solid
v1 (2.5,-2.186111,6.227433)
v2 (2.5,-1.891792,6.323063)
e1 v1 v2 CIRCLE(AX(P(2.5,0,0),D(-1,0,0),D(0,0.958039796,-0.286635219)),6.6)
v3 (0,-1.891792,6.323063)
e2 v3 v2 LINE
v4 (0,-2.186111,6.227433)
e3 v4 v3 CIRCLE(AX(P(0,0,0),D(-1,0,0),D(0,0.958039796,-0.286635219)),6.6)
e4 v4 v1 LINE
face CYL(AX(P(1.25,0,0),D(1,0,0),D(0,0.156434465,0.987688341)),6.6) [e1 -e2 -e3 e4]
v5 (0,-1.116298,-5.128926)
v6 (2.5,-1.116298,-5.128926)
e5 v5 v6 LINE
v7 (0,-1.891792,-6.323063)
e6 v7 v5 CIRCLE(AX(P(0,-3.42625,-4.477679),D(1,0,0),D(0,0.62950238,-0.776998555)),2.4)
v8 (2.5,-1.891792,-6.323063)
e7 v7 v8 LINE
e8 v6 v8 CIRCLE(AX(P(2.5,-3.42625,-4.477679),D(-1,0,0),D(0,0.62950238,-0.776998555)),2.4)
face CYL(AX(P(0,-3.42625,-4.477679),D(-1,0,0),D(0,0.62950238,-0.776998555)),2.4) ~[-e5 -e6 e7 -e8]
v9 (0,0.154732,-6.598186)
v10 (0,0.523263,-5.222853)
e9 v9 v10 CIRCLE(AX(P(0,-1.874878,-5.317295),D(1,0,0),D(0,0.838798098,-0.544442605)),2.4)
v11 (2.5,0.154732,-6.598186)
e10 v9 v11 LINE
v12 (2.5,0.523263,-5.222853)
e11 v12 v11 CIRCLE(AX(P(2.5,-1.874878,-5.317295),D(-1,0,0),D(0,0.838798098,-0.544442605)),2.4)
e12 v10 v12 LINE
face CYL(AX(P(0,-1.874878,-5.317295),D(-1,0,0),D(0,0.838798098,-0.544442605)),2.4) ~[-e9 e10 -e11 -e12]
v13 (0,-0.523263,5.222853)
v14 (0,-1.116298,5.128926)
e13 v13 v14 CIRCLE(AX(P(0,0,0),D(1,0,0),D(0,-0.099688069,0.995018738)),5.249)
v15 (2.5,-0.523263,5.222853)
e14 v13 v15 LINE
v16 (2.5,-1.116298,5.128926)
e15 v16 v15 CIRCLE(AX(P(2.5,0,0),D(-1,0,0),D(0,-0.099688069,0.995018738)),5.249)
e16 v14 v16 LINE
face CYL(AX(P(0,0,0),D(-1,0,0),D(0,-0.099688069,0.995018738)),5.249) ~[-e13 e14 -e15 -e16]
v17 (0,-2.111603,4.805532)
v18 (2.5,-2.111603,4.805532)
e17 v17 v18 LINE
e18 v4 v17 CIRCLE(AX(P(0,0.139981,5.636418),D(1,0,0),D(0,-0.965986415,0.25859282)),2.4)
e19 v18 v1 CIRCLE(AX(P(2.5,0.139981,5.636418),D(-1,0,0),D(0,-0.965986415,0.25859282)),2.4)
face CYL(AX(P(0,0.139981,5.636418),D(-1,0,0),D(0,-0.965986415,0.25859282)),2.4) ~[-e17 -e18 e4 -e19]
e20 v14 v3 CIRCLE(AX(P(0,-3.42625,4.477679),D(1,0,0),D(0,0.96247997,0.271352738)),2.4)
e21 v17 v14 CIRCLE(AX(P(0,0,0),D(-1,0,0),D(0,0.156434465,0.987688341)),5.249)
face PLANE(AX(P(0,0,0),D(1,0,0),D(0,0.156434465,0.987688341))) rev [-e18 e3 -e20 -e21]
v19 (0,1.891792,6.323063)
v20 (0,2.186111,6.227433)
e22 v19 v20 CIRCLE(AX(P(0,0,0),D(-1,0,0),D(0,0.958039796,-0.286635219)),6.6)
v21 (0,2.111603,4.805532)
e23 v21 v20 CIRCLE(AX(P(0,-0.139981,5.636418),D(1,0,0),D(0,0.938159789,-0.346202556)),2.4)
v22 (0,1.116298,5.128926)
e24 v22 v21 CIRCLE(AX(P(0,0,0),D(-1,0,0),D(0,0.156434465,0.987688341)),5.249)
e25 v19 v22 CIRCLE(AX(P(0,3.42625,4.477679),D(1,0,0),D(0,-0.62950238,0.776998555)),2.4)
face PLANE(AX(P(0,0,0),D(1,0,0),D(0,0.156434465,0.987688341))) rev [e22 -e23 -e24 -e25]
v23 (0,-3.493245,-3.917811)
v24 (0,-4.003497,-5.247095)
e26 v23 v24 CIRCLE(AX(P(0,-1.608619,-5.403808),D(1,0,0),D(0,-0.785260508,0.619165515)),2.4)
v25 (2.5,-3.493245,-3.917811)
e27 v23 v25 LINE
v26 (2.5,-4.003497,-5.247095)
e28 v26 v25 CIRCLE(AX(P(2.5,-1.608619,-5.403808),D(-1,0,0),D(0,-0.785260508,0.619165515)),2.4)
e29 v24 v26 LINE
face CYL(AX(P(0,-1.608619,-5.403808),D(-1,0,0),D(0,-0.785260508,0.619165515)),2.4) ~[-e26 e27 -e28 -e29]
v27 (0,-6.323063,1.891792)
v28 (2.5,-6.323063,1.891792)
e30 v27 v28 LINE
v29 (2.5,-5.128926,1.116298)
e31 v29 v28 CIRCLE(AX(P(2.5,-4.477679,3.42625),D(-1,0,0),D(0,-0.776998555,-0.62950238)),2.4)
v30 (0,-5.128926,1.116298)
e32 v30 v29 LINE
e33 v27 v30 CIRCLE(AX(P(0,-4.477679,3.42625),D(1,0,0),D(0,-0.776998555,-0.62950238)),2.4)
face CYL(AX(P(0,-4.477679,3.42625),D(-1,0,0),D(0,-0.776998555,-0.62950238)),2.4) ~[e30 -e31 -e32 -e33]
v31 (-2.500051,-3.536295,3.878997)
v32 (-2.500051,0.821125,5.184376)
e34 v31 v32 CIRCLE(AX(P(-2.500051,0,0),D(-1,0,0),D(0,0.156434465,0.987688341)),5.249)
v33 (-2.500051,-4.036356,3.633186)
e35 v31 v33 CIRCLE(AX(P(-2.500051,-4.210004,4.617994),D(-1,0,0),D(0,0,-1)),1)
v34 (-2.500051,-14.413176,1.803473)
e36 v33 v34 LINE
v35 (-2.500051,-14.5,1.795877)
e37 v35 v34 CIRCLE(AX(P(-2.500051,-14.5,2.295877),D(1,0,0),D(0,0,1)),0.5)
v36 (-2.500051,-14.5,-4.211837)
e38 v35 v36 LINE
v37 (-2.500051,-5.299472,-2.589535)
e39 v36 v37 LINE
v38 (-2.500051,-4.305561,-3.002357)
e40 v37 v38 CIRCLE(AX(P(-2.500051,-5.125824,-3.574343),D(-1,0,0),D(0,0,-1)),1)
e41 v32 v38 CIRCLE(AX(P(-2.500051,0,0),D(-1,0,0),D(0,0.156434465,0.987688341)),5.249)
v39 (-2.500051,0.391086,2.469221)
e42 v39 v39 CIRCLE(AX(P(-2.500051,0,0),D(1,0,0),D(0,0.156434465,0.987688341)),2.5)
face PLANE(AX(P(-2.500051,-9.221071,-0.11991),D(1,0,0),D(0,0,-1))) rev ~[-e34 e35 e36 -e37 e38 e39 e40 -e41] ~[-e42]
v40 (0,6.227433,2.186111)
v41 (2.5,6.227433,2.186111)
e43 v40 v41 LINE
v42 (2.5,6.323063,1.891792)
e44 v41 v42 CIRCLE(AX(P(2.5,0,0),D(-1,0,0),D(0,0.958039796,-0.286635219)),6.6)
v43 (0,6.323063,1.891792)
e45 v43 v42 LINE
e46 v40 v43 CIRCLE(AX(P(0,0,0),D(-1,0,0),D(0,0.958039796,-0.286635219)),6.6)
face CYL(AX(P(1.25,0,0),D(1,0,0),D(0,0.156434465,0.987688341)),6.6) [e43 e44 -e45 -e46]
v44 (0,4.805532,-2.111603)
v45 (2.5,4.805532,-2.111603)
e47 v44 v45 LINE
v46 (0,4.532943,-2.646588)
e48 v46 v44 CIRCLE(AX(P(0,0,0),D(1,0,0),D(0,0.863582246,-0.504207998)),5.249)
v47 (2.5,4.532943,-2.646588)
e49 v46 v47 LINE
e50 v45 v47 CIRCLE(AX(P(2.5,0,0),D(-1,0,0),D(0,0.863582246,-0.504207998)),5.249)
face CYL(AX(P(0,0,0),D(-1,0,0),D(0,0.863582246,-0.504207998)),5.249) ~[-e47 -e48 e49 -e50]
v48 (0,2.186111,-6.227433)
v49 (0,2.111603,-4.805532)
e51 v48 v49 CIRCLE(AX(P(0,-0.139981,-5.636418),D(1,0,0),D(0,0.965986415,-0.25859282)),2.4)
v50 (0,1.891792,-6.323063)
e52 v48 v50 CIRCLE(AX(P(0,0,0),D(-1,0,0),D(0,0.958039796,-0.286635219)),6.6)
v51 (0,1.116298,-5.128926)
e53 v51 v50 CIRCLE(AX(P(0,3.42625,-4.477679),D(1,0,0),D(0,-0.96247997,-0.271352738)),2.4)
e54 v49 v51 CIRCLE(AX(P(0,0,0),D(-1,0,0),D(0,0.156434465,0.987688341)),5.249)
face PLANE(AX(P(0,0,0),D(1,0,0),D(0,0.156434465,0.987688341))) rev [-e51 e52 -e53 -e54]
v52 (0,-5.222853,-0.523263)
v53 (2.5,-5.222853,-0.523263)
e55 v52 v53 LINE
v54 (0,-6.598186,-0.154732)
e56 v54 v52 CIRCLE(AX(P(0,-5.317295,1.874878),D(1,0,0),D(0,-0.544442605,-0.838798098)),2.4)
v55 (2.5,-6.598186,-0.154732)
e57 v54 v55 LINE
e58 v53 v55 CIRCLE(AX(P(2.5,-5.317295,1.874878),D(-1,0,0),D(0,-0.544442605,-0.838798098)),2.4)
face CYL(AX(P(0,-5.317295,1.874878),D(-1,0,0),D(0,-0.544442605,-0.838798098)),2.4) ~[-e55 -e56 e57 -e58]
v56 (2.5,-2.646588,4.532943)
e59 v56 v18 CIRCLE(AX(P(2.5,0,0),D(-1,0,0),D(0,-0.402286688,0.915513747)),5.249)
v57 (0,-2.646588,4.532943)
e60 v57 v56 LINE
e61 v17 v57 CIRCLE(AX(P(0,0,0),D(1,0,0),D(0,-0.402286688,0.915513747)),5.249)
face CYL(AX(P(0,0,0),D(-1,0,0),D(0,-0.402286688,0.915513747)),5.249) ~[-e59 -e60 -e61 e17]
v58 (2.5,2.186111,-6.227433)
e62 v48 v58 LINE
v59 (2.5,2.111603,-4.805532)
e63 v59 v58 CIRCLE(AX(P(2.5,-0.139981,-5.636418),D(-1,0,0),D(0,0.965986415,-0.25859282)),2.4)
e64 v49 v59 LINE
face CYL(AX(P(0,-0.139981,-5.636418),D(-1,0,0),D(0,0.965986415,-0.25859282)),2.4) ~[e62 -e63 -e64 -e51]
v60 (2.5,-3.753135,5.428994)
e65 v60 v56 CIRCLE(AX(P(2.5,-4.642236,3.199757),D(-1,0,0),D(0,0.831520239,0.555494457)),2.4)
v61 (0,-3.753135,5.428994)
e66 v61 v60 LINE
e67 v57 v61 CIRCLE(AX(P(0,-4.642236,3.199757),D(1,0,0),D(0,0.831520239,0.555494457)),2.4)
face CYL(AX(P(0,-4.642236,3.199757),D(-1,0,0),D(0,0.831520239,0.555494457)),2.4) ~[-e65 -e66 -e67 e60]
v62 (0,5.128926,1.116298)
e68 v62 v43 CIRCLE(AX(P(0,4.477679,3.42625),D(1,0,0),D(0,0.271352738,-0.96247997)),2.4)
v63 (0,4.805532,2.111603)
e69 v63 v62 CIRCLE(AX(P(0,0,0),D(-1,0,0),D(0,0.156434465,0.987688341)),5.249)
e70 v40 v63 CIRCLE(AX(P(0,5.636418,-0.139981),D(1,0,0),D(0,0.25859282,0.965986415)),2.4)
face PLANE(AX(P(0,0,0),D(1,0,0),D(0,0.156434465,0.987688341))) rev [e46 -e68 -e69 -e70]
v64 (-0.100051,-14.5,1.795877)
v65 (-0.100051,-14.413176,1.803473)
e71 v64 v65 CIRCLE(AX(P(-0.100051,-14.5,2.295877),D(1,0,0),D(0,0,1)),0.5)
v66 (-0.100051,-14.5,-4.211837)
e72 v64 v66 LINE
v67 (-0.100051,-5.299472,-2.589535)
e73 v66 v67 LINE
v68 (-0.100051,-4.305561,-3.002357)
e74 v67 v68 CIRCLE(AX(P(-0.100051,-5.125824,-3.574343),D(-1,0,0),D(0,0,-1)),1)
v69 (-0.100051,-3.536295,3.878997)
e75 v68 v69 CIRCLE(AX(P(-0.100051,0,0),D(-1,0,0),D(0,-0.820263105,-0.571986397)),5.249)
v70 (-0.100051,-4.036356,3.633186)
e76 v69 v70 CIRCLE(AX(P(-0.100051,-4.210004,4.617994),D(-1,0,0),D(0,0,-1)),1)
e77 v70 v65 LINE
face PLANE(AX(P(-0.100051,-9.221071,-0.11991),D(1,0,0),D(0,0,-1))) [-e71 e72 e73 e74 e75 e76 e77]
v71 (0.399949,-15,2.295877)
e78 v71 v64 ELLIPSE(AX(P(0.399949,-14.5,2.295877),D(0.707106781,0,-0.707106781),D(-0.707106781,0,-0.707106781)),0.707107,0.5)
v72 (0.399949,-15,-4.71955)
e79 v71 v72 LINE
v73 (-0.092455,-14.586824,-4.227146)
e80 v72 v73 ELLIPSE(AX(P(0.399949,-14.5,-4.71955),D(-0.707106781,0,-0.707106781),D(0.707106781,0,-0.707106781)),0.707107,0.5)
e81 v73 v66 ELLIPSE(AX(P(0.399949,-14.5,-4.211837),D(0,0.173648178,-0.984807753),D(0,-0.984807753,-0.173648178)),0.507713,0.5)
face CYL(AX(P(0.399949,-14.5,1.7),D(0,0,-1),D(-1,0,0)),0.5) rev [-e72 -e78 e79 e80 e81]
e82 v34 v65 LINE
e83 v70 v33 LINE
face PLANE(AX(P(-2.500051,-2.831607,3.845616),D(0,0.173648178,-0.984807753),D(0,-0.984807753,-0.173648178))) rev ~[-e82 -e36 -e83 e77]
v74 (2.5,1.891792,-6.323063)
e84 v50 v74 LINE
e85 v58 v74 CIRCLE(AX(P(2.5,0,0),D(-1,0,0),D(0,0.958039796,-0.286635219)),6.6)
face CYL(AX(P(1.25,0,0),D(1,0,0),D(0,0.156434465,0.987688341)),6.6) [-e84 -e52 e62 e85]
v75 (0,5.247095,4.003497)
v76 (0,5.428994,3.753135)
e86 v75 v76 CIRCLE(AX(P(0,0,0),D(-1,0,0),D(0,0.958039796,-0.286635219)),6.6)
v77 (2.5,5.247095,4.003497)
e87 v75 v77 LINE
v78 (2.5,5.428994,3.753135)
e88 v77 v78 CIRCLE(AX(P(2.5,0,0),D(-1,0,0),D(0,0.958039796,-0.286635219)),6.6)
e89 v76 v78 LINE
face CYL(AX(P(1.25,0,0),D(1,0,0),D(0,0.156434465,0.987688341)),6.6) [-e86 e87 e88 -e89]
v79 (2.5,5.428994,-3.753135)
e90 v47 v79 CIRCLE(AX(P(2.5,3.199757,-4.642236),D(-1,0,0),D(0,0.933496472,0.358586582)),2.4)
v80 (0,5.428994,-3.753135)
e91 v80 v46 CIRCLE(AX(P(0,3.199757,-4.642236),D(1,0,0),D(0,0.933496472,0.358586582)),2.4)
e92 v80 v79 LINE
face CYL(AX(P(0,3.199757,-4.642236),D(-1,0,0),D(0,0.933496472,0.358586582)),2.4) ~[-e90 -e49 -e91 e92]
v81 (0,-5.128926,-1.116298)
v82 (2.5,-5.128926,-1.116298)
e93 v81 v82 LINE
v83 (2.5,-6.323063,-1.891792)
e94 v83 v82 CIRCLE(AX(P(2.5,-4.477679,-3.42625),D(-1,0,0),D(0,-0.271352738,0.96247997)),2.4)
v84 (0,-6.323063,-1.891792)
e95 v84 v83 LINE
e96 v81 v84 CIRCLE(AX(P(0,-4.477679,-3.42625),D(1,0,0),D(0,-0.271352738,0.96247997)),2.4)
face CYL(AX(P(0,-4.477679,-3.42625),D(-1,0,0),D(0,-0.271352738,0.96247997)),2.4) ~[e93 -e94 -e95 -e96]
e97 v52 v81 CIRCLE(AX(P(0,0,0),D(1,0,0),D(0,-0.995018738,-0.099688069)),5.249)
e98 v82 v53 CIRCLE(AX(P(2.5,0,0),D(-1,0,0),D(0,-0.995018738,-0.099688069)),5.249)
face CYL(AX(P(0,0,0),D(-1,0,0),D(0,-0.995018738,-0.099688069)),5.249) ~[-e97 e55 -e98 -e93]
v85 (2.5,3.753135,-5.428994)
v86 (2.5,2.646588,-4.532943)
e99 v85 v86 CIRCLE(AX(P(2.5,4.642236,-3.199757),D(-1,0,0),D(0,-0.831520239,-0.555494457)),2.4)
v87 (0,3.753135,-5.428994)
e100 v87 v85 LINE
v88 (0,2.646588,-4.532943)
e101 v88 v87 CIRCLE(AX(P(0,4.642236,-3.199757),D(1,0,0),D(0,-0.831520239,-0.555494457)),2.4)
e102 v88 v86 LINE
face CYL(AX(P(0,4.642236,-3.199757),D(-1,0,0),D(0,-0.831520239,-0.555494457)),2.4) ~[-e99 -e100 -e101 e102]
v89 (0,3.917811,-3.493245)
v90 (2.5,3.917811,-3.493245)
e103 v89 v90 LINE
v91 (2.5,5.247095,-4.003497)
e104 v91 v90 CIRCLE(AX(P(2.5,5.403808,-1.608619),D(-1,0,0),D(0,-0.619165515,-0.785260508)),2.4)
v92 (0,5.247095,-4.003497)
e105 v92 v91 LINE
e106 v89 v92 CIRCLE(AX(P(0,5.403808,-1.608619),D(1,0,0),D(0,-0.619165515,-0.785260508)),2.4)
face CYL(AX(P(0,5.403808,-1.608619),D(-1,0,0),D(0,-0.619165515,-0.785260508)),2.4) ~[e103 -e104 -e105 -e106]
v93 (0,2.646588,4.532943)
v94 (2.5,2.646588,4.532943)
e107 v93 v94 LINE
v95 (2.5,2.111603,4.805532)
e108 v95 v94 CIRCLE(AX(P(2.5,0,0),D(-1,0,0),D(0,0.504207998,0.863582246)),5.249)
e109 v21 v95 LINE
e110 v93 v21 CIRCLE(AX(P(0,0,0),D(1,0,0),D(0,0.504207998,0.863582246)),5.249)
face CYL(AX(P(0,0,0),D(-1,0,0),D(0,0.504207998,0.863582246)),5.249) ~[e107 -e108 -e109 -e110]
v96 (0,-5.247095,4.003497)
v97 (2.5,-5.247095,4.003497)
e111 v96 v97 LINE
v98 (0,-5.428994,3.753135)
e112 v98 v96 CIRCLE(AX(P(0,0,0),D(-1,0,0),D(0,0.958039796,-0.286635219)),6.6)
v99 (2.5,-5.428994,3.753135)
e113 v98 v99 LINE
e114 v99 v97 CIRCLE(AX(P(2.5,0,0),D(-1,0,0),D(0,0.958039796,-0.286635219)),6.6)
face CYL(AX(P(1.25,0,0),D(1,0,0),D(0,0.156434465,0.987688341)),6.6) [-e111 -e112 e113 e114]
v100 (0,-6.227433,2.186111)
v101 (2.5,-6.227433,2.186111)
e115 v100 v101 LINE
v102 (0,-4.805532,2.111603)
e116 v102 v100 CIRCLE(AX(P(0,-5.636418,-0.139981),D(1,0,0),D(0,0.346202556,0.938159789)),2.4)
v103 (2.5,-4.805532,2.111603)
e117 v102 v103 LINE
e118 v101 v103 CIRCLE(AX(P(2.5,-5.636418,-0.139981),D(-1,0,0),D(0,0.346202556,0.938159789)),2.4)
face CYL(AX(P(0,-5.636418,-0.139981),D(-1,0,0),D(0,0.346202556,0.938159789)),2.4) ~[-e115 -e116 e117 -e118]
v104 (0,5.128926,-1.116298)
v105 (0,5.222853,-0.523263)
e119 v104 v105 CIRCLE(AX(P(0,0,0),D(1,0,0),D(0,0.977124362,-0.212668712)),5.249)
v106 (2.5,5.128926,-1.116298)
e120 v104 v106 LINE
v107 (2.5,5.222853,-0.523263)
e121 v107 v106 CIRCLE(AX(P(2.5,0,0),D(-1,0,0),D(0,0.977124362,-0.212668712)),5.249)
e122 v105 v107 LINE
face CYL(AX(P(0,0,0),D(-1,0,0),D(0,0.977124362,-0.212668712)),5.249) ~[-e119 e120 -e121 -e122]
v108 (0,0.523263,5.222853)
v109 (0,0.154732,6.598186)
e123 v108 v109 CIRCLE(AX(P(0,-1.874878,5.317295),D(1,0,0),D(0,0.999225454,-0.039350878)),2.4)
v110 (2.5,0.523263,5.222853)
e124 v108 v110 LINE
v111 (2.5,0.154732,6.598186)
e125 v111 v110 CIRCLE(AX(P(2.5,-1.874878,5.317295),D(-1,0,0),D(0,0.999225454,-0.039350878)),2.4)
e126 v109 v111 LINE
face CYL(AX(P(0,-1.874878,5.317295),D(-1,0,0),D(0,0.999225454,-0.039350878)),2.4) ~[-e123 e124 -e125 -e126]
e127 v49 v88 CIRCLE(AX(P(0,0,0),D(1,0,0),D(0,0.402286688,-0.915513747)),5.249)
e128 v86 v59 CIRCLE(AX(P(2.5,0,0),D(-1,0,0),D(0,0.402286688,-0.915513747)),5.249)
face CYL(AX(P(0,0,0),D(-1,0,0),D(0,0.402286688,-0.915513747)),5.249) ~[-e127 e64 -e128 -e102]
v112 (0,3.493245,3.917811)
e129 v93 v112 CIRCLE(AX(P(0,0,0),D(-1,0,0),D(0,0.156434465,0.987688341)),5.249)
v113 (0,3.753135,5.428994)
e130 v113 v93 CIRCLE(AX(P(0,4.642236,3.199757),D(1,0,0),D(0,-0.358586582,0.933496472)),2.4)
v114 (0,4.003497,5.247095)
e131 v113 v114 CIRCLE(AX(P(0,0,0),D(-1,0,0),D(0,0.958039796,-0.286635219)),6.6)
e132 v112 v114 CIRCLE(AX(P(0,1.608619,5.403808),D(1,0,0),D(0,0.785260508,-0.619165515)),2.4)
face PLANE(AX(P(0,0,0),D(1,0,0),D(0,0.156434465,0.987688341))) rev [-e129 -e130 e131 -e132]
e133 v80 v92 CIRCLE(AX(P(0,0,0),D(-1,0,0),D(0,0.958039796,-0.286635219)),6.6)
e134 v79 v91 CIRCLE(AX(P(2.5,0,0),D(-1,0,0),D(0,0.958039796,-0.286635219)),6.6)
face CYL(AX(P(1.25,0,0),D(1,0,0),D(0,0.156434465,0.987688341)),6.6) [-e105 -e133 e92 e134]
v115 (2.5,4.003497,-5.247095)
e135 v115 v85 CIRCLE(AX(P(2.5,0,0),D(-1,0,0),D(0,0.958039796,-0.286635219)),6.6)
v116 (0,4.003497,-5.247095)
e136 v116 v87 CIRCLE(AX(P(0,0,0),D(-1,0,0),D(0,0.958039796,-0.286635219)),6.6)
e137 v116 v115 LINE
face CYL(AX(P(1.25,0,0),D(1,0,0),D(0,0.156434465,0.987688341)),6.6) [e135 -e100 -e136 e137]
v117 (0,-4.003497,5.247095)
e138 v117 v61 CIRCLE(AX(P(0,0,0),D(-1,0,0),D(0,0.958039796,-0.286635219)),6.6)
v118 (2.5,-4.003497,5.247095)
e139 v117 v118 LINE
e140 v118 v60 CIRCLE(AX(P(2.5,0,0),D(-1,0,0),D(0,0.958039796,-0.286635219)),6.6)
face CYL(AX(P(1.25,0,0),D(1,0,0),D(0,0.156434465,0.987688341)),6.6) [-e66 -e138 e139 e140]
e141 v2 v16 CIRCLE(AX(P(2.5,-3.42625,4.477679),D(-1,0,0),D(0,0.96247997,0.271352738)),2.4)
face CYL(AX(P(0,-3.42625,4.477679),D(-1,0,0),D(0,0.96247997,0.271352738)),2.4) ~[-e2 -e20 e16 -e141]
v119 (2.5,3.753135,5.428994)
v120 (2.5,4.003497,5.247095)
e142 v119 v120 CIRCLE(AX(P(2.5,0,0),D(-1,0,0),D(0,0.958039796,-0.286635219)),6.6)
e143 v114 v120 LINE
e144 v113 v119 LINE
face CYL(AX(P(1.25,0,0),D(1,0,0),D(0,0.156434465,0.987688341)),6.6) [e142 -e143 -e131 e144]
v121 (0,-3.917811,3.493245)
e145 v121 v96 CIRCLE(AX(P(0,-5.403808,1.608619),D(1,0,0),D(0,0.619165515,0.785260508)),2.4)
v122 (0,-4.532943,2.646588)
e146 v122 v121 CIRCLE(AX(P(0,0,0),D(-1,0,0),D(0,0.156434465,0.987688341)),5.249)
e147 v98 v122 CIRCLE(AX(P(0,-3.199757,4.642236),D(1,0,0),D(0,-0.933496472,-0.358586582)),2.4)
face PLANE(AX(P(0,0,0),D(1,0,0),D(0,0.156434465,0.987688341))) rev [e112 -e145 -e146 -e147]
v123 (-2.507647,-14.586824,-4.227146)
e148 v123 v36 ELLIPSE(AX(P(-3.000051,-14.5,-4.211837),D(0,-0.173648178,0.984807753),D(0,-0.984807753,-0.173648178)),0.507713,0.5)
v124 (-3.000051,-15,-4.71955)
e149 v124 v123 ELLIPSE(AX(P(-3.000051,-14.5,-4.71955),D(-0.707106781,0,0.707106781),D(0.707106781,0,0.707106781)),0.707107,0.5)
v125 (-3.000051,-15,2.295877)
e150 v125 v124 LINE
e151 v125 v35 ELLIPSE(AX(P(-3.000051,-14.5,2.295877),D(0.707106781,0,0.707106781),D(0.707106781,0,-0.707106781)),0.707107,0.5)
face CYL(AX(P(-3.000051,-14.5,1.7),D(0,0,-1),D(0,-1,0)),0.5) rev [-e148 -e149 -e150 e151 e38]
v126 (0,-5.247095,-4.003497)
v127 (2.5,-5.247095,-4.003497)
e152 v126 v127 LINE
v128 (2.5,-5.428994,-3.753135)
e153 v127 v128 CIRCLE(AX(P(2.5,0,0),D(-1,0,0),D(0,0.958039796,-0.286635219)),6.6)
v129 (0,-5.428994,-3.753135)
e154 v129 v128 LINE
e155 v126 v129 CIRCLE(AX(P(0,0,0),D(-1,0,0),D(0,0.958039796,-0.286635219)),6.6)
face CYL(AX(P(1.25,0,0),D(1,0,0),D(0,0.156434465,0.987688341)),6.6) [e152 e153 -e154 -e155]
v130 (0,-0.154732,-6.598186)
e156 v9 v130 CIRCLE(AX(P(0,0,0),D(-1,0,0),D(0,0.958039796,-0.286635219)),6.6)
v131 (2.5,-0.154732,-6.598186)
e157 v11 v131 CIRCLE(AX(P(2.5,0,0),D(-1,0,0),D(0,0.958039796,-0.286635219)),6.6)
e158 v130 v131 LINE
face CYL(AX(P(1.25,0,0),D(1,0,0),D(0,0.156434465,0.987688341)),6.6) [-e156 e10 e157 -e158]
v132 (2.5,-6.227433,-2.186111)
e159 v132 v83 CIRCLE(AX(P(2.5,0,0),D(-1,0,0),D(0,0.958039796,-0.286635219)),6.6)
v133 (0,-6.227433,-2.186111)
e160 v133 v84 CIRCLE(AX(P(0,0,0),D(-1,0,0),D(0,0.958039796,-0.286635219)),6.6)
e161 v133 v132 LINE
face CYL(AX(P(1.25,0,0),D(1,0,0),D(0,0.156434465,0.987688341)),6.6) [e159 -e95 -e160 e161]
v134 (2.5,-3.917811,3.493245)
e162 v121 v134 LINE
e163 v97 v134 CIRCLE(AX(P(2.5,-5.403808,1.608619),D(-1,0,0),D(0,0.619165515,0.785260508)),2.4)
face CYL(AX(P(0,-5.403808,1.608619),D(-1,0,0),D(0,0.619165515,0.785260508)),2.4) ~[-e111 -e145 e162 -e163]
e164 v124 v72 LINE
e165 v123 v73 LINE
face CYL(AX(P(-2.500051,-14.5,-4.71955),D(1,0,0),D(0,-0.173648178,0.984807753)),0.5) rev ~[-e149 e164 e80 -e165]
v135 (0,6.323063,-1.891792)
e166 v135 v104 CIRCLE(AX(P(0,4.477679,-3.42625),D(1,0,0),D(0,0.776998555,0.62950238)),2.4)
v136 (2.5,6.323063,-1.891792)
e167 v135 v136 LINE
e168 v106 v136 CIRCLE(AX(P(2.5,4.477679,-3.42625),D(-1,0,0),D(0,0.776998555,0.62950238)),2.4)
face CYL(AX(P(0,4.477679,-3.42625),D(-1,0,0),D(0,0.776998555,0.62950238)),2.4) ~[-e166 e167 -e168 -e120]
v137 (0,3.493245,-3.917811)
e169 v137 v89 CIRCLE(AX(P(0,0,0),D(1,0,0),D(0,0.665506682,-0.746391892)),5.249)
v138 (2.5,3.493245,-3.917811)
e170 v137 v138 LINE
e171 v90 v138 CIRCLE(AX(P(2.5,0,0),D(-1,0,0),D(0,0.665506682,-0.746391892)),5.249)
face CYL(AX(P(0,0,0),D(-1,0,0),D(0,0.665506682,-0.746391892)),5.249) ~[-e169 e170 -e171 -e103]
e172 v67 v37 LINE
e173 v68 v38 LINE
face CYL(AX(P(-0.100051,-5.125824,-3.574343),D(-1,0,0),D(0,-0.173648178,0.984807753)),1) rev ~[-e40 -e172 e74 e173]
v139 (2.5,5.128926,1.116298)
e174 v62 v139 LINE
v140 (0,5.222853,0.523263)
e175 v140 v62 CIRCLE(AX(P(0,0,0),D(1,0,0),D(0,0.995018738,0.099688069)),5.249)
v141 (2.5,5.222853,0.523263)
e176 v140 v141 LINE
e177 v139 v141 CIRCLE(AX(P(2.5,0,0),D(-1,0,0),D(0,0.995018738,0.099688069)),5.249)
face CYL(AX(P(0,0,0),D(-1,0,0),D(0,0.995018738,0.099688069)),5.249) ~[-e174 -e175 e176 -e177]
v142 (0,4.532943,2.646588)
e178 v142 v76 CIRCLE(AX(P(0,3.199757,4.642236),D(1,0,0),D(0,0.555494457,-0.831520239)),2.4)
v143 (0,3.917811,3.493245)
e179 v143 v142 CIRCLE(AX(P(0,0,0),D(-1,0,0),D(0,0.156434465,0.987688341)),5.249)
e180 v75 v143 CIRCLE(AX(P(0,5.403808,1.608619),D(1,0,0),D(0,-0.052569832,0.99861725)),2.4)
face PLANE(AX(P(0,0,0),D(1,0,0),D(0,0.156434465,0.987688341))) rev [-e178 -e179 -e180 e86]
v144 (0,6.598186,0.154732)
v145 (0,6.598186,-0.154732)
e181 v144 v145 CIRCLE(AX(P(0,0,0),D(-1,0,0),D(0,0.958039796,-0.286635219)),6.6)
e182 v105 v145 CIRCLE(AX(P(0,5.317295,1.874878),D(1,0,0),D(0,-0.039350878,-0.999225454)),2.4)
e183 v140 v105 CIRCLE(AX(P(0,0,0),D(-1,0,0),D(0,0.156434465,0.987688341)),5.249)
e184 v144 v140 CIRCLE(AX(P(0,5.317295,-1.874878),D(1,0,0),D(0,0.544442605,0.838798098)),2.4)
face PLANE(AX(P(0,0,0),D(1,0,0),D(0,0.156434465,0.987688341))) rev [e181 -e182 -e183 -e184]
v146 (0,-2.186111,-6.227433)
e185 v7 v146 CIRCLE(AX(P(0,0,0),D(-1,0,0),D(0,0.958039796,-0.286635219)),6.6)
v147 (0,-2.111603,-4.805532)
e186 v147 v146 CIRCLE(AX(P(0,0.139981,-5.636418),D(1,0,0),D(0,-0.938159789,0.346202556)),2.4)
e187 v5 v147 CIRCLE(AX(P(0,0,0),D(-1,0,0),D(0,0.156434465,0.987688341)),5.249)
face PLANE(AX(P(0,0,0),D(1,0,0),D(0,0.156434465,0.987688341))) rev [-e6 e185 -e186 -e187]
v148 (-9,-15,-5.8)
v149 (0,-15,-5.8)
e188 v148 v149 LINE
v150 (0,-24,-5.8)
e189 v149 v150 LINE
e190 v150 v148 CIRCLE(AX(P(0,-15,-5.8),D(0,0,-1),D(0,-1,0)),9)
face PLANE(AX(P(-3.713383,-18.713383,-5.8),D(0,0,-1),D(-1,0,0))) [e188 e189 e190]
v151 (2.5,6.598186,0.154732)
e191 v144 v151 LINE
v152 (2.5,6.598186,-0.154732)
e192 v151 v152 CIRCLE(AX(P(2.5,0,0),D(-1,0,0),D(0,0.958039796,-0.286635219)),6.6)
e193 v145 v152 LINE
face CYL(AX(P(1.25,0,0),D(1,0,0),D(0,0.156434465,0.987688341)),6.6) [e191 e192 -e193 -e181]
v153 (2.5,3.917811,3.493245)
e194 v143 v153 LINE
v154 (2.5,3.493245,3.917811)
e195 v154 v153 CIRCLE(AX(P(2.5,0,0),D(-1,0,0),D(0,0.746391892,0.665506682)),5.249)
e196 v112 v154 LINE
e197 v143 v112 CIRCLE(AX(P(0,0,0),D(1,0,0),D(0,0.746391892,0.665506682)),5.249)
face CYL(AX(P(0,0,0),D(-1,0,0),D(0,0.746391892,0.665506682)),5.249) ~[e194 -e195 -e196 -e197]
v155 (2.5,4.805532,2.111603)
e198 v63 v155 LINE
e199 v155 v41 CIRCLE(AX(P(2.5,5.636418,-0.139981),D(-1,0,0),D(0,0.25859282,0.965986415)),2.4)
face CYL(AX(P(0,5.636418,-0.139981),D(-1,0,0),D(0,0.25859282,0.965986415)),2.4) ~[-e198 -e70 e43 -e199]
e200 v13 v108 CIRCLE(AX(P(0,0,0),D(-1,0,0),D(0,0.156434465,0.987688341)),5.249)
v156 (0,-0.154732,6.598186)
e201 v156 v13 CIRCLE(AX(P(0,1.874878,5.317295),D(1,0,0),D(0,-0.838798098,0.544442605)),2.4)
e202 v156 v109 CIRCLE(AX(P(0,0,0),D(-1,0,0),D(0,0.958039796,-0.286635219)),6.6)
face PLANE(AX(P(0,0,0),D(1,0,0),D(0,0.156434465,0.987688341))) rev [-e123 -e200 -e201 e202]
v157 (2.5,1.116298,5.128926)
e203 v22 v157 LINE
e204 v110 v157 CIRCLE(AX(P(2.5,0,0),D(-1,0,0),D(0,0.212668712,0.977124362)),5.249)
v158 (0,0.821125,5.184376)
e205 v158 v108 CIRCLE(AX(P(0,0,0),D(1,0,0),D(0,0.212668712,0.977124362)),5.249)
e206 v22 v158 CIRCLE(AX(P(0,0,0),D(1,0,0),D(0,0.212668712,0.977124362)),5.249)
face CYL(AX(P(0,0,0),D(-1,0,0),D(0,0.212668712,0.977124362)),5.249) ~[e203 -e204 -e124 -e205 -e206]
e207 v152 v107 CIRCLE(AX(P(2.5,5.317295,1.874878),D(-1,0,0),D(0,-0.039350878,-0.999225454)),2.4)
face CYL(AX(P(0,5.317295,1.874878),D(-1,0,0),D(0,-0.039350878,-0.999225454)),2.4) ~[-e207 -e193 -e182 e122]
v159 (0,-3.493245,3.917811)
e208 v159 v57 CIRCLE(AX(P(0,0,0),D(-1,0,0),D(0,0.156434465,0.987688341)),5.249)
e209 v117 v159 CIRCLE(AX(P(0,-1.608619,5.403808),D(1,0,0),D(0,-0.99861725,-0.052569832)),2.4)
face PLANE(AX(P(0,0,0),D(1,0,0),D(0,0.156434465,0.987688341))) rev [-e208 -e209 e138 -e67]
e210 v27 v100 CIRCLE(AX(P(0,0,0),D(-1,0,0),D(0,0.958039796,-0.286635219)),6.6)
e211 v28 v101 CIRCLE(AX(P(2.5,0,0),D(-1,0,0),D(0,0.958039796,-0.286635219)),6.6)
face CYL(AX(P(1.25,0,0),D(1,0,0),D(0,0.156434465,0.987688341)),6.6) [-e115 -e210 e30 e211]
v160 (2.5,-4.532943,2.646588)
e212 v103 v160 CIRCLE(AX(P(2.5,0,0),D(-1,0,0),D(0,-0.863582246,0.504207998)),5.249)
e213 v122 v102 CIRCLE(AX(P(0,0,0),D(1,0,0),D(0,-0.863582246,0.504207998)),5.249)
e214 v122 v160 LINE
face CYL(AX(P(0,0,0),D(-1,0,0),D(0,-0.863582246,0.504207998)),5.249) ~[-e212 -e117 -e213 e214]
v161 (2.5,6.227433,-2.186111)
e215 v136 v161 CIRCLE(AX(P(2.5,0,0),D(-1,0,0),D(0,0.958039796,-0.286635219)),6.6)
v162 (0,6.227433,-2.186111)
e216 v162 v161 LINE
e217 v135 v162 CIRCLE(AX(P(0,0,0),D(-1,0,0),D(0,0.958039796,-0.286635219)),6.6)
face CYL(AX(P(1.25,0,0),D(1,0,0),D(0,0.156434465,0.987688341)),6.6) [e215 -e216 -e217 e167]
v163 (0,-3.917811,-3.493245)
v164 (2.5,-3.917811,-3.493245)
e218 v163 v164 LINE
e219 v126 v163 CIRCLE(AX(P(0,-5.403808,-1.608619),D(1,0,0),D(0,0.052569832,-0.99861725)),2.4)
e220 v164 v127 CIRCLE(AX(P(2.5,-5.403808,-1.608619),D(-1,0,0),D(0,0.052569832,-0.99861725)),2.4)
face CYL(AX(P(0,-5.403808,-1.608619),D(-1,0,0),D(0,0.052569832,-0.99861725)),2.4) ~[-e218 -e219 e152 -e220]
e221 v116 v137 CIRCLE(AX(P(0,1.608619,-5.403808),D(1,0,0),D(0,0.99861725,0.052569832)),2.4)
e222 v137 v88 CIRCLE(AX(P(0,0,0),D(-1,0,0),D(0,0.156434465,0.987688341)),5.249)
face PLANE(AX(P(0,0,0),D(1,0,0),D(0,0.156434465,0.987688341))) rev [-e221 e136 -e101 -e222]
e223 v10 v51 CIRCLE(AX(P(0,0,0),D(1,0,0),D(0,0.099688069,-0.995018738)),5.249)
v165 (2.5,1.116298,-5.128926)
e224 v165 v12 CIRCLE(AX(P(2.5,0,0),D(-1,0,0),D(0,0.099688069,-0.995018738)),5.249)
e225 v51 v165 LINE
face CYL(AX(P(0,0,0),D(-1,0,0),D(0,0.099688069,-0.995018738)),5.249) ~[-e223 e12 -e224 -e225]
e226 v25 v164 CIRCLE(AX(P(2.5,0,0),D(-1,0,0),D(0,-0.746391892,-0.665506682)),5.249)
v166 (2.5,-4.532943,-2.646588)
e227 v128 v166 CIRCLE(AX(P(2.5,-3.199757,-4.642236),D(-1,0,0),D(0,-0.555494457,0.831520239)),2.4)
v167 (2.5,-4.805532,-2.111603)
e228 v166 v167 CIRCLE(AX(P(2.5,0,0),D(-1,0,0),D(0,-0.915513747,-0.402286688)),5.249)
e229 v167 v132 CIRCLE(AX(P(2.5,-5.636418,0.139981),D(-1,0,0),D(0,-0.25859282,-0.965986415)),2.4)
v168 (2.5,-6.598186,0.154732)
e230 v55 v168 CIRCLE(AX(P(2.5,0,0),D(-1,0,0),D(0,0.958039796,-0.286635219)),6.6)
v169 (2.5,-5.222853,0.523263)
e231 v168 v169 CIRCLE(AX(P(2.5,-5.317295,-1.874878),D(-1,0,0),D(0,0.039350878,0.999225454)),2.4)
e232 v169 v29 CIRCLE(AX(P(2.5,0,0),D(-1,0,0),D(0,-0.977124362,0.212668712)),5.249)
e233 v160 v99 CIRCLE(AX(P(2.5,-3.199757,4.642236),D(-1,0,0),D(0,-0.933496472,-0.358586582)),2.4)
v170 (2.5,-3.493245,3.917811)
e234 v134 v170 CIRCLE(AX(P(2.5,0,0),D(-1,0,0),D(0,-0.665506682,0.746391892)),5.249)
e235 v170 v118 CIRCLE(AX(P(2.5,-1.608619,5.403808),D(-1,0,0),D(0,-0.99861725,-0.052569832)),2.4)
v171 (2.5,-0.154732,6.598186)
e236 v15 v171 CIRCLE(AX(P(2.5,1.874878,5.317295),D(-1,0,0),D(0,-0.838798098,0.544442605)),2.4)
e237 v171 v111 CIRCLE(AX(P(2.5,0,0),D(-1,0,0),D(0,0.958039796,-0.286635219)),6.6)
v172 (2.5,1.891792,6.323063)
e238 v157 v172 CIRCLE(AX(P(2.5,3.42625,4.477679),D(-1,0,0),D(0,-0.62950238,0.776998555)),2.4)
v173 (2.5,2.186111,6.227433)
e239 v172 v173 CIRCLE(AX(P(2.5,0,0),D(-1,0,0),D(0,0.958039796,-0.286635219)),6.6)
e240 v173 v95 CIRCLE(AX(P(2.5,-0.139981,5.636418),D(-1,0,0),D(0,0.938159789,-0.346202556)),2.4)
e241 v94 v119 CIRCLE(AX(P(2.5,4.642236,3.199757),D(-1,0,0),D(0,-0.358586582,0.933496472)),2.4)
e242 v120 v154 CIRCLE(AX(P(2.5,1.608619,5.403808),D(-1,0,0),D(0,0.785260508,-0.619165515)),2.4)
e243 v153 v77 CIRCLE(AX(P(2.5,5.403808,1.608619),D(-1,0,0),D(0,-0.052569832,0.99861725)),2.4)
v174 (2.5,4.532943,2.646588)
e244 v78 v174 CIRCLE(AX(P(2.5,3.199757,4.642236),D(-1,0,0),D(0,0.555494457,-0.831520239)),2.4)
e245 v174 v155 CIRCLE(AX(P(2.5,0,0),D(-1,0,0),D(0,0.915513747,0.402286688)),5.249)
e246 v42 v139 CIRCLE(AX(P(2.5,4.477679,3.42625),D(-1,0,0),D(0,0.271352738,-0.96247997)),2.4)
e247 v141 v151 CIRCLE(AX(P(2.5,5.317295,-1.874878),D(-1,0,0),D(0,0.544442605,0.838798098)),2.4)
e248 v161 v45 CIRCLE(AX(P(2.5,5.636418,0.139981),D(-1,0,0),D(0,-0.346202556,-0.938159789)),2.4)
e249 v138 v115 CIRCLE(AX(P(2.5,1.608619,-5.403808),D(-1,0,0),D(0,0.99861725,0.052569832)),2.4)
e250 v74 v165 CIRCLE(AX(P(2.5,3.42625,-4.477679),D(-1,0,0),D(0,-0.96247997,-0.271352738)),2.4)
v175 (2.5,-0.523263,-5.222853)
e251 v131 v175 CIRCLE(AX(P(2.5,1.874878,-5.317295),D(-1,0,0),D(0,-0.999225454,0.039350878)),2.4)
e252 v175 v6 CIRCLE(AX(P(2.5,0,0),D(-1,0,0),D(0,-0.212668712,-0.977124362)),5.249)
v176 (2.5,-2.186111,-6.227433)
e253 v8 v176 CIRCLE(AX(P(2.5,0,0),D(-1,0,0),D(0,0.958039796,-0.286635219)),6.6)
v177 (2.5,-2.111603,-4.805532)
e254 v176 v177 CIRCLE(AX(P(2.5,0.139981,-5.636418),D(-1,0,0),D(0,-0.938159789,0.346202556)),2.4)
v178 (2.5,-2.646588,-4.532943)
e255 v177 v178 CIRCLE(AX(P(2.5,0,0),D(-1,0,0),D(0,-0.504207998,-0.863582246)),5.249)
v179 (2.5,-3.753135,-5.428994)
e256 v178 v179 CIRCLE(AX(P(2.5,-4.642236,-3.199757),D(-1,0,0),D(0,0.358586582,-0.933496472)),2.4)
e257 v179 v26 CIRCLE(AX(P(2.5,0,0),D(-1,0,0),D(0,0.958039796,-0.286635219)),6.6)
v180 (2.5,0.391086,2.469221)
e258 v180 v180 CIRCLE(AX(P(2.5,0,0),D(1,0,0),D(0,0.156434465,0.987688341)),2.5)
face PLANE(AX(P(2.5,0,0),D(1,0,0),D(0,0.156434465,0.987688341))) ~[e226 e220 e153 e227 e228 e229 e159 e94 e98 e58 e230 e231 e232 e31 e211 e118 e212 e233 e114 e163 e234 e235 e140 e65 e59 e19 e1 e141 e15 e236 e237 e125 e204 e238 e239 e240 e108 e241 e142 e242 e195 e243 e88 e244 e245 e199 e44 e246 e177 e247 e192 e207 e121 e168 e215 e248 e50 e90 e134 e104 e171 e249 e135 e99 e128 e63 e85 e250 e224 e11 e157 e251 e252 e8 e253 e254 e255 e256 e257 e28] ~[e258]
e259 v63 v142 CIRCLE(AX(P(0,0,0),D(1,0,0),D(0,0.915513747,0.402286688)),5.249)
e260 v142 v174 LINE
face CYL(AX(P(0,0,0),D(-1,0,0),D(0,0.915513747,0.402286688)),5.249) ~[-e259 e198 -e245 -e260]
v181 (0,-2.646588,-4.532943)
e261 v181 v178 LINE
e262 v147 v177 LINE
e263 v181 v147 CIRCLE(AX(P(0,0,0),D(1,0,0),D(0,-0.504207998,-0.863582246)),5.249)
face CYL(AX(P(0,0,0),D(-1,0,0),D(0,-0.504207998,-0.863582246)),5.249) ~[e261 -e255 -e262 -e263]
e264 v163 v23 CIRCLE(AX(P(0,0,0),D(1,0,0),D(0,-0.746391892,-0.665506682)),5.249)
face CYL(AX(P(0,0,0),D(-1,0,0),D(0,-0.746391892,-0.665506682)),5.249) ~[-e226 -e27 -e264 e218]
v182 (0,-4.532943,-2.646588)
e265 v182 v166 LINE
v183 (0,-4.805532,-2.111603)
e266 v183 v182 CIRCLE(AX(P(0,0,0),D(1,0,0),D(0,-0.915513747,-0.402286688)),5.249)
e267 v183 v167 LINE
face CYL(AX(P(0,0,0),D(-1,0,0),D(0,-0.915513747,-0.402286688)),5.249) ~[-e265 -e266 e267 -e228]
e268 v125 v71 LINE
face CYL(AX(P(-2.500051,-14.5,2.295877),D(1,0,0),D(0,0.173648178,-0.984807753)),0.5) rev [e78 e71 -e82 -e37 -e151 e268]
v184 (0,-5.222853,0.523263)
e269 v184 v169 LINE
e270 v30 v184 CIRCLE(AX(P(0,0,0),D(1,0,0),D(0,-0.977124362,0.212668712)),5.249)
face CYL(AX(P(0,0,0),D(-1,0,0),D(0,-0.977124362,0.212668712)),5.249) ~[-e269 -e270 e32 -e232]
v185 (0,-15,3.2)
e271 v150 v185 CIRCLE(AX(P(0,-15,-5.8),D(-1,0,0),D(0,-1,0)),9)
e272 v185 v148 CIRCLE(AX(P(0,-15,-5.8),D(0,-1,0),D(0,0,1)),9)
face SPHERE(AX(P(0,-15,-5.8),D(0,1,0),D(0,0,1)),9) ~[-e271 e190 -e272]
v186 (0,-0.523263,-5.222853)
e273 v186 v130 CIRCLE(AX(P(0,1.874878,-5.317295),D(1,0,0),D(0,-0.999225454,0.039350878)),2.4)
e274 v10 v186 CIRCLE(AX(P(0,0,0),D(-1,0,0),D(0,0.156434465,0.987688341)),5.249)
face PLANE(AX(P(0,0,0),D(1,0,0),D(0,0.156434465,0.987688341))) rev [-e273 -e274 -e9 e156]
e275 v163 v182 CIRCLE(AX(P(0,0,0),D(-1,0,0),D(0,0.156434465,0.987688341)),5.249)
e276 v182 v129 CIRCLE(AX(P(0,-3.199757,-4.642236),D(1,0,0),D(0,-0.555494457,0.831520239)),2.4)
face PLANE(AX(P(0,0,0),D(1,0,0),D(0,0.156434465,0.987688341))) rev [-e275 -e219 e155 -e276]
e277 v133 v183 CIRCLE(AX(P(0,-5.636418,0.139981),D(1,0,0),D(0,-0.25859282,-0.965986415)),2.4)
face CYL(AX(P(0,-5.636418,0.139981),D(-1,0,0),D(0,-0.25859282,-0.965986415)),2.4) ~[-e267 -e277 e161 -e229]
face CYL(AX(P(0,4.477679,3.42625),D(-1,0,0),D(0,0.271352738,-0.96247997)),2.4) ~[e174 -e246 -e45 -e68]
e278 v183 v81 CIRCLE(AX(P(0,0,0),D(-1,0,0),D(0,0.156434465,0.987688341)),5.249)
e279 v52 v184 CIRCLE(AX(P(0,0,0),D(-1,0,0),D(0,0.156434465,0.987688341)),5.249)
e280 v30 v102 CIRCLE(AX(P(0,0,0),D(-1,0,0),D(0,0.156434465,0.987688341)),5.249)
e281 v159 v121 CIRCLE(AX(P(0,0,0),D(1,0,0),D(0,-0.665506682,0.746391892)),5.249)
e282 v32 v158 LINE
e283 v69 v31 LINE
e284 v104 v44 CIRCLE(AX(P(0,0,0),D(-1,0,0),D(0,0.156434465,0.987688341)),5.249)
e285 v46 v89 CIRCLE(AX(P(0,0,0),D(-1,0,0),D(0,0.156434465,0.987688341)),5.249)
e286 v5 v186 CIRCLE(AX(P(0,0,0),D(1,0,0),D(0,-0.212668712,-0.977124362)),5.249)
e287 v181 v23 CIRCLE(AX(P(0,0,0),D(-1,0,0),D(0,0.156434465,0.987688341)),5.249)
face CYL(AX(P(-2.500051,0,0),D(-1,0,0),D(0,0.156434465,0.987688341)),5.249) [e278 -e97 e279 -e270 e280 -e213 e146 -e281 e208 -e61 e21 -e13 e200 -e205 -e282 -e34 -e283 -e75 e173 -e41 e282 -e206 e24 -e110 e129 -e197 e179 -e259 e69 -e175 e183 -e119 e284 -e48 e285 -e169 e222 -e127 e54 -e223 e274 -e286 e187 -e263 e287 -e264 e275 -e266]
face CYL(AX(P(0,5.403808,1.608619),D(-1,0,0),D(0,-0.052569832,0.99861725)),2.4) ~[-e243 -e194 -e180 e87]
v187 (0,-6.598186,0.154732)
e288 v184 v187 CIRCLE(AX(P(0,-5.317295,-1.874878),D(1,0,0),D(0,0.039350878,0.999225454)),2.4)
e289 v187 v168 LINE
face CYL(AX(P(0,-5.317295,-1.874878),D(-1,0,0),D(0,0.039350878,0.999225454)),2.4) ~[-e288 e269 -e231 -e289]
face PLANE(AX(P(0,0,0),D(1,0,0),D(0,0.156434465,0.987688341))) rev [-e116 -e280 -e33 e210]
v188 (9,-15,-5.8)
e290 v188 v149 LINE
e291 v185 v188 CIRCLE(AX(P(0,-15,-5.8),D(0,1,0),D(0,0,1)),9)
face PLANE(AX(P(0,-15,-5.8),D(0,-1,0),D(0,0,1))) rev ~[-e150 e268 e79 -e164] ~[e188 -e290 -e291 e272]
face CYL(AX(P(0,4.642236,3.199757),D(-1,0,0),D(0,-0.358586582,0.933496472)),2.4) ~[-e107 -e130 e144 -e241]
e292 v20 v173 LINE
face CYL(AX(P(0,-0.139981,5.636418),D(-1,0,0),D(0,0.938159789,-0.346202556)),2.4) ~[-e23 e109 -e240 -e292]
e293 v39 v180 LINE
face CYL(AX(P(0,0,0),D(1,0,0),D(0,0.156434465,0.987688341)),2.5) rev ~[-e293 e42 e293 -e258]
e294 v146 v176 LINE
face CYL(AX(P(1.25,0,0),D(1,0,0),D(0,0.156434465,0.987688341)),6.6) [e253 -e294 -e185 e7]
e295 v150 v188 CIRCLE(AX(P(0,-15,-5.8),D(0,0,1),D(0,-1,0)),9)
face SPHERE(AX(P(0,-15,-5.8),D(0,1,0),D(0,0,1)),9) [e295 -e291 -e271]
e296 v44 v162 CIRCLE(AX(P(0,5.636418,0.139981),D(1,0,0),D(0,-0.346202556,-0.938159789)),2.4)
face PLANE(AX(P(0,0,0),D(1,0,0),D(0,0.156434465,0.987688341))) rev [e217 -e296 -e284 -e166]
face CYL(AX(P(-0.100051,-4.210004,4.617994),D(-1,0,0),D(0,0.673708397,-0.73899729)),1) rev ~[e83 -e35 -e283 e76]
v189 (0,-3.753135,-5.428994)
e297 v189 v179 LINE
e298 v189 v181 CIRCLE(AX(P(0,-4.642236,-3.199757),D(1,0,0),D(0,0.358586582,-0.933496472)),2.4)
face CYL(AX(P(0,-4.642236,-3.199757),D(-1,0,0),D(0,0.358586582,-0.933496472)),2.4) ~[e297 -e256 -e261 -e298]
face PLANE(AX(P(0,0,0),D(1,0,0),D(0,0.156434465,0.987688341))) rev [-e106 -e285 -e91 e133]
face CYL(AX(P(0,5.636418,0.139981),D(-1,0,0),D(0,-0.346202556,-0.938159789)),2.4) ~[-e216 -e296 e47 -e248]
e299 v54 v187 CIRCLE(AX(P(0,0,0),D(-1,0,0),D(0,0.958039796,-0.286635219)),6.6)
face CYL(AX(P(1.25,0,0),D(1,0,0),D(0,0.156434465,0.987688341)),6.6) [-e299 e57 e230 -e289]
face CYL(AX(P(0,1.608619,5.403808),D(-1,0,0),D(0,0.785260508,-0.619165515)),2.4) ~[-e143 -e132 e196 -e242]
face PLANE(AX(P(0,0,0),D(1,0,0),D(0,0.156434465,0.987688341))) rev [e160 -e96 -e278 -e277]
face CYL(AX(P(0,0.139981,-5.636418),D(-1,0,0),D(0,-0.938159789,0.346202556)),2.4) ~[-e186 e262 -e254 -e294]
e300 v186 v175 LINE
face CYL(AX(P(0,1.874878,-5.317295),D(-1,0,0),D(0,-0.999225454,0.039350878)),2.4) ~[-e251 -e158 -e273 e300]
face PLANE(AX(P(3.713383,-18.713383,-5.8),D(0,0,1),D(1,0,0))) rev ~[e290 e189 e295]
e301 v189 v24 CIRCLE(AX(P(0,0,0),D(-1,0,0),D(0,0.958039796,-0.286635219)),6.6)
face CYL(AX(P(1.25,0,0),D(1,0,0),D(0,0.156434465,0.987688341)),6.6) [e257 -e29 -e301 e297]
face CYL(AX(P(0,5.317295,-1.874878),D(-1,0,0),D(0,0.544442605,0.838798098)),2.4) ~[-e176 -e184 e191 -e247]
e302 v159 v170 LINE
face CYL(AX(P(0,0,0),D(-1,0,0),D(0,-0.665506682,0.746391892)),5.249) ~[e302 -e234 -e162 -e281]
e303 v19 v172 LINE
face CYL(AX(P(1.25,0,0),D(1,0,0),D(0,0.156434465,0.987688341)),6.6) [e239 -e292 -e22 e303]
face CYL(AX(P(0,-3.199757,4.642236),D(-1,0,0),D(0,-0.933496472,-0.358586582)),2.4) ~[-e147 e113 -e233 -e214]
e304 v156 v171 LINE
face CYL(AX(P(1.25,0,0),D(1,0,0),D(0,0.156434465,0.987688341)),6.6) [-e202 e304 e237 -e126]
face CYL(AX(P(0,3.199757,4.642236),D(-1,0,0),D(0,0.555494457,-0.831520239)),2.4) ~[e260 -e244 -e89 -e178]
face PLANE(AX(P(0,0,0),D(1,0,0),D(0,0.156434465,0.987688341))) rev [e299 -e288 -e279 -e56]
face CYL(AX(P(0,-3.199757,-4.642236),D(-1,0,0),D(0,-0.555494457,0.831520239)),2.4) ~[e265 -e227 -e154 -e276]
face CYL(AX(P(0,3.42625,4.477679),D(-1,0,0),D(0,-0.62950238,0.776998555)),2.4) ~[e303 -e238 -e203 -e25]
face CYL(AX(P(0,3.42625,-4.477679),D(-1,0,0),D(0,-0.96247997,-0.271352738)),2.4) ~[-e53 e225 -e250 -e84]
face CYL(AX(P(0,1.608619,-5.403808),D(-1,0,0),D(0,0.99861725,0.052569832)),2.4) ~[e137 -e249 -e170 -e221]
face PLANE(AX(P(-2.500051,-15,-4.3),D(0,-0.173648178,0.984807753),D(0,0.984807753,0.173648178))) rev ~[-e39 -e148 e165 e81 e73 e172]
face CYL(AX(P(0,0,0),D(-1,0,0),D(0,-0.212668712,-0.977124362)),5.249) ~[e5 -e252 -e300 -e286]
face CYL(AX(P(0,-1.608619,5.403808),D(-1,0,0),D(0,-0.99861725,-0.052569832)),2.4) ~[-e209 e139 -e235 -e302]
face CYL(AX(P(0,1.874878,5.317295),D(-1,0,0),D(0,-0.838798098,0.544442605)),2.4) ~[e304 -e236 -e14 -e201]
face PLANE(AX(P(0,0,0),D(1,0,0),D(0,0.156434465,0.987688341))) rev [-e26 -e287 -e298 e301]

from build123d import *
from build123d.topology import SkipClean

# Parameters (mm, degrees)
BASPROSKE_W               = 2.5
BASPROSKE_H               = 6.6
TOOTHCUT_DEPTH            = 10.662815325
TEETHCUTS_COUNT           = 20
TEETHCUTS_ANGLE           = 342
HUBNEARONE_START          = 2.5000508
HUBNEAONESKE_R            = 5.249
HUBNEARONE_DEPTH          = 2.5000508
BORSKE_R                  = 2.5
BORE_DEPTH                = 5.0000508
MOVE_BODY_1_ANGLE         = 9
REVOLVE_1_ANGLE           = 90
REVOLVE_1_OTHER_WAY_ANGLE = 90
EXTRUDE_1_DEPTH           = 2.4
FILLET_1_R                = 1
FILLET_2_R                = 0.5


with BuildPart() as part:
    # BasProSke → Base-Revolve (revolve)
    with BuildSketch(Plane(origin=(0, 0, 0), x_dir=(1, 0, 0), z_dir=(0, 1, 0)), mode=Mode.PRIVATE) as base_revolve_sk:
        with Locations((1.25, 3.3)):
            Rectangle(BASPROSKE_W, BASPROSKE_H)
    revolve(base_revolve_sk.sketch.rotate(Axis((-10, 0, 0), (1, 0, 0)), 180), axis=Axis((-10, 0, 0), (1, 0, 0)))

    # TooCutSke → ToothCut (cut, through all)
    with BuildSketch(Plane(origin=(0, 0, 0), x_dir=(0, 0, -1), z_dir=(1, 0, 0))):
        with BuildLine():
            ThreePointArc((0.300213811, 5.240407681), (0, 5.249), (-0.300213811, 5.240407681))
            ThreePointArc((-0.300213811, 5.240407681), (-0.497369534, 5.948676387), (-0.899680168, 6.564030831))
            ThreePointArc((-0.899680168, 6.564030831), (0, 6.6254), (0.899680168, 6.564030831))
            ThreePointArc((0.899680168, 6.564030831), (0.497369534, 5.948676387), (0.300213811, 5.240407681))
        make_face()
    toothcut = extrude(amount=TOOTHCUT_DEPTH, mode=Mode.SUBTRACT)

    # TeethCuts: ToothCut ×20 about axis
    teethcuts_axis = Axis((-10, 0, 0), (1, 0, 0))
    for i in range(1, TEETHCUTS_COUNT):
        add(toothcut.rotate(teethcuts_axis, i * TEETHCUTS_ANGLE / (TEETHCUTS_COUNT - 1)), mode=Mode.SUBTRACT)

    # HubNeaOneSke → HubNearOne (add)
    with SkipClean():  # the faces are left unmerged after this step: merging them gives an invalid solid
        with BuildSketch(Plane.ZY.offset(HUBNEARONE_START)):
            Circle(HUBNEAONESKE_R)
        extrude(amount=-HUBNEARONE_DEPTH)

    # BorSke → Bore (cut, symmetric)
    with SkipClean():  # the faces are left unmerged after this step: merging them gives an invalid solid
        with BuildSketch(Plane(origin=(0, 0, 0), x_dir=(0, 0, -1), z_dir=(1, 0, 0))):
            with Locations(Location((0, 0, 0), (0, 0, 180))):
                Circle(BORSKE_R)
        extrude(amount=BORE_DEPTH, both=True, mode=Mode.SUBTRACT)


with BuildPart() as part_1:
    # Move Body 1: moved
    add(part.part.rotate(Axis((0, 0, 0), (-1, 0, 0)), MOVE_BODY_1_ANGLE))



with BuildPart() as body_2:
    # 草图4 → 旋转1 (revolve)
    with BuildSketch(Plane(origin=(0, -5.800690391, 0.605708681), x_dir=(0, 0, -1), z_dir=(1, 0, 0))):
        with BuildLine():
            Line((6.405708681, -9.199309609), (6.405708681, -18.199309609))
            ThreePointArc((6.405708681, -18.199309609), (0.04174765, -15.56327064), (-2.594291319, -9.199309609))
            Line((-2.594291319, -9.199309609), (6.405708681, -9.199309609))
        make_face()
    revolve(axis=Axis((0, -15, -5.8), (0, -1, 0)), revolution_arc=REVOLVE_1_ANGLE)

    # 草图4 → 旋转1 other way (revolve)
    with SkipClean():  # the faces are left unmerged after this step: merging them gives an invalid solid
        with BuildSketch(Plane(origin=(0, -5.800690391, 0.605708681), x_dir=(0, 0, -1), z_dir=(1, 0, 0))):
            with BuildLine():
                Line((6.405708681, -9.199309609), (6.405708681, -18.199309609))
                ThreePointArc((6.405708681, -18.199309609), (0.04174765, -15.56327064), (-2.594291319, -9.199309609))
                Line((-2.594291319, -9.199309609), (6.405708681, -9.199309609))
            make_face()
        revolve(axis=Axis((0, -15, -5.8), (0, 1, 0)), revolution_arc=REVOLVE_1_OTHER_WAY_ANGLE)


with BuildPart() as part_2:
    with SkipClean():  # the faces are left unmerged after this step: merging them gives an invalid solid
        add(part_1.part)

        add(body_2.part)  # 凸台-拉伸1 merges body 2
        # 草图5 → 凸台-拉伸1 (add)
        with BuildSketch(Plane.ZY.offset(2.5000508)):
            with BuildLine():
                Line((-4.3, -15), (-2.38467349, -4.137643583))
                ThreePointArc((-2.38467349, -4.137643583), (0.97980655, -4.674049764), (3.845615938, -2.83160734))
                Line((3.845615938, -2.83160734), (1.7, -15))
                Line((1.7, -15), (-4.3, -15))
            make_face()
        extrude(amount=-EXTRUDE_1_DEPTH)

    # 圆角1
    fillet_1_edges = [part_2.edges().sort_by_distance(p)[0] for p in [
        (-1.3000508, -4.630675276, -2.471608279),
        (-1.3000508, -3.737073108, 3.685957893),
    ]]
    fillet(fillet_1_edges, radius=FILLET_1_R)

    # 圆角2
    fillet_2_edges = [part_2.edges().sort_by_distance(p)[0] for p in [
        (-0.1000508, -15, -1.3),
        (-1.3000508, -15, 1.7),
        (-1.3000508, -15, -4.3),
        (-2.5000508, -15, -1.3),
    ]]
    fillet(fillet_2_edges, radius=FILLET_2_R)


solid = part_2.part
